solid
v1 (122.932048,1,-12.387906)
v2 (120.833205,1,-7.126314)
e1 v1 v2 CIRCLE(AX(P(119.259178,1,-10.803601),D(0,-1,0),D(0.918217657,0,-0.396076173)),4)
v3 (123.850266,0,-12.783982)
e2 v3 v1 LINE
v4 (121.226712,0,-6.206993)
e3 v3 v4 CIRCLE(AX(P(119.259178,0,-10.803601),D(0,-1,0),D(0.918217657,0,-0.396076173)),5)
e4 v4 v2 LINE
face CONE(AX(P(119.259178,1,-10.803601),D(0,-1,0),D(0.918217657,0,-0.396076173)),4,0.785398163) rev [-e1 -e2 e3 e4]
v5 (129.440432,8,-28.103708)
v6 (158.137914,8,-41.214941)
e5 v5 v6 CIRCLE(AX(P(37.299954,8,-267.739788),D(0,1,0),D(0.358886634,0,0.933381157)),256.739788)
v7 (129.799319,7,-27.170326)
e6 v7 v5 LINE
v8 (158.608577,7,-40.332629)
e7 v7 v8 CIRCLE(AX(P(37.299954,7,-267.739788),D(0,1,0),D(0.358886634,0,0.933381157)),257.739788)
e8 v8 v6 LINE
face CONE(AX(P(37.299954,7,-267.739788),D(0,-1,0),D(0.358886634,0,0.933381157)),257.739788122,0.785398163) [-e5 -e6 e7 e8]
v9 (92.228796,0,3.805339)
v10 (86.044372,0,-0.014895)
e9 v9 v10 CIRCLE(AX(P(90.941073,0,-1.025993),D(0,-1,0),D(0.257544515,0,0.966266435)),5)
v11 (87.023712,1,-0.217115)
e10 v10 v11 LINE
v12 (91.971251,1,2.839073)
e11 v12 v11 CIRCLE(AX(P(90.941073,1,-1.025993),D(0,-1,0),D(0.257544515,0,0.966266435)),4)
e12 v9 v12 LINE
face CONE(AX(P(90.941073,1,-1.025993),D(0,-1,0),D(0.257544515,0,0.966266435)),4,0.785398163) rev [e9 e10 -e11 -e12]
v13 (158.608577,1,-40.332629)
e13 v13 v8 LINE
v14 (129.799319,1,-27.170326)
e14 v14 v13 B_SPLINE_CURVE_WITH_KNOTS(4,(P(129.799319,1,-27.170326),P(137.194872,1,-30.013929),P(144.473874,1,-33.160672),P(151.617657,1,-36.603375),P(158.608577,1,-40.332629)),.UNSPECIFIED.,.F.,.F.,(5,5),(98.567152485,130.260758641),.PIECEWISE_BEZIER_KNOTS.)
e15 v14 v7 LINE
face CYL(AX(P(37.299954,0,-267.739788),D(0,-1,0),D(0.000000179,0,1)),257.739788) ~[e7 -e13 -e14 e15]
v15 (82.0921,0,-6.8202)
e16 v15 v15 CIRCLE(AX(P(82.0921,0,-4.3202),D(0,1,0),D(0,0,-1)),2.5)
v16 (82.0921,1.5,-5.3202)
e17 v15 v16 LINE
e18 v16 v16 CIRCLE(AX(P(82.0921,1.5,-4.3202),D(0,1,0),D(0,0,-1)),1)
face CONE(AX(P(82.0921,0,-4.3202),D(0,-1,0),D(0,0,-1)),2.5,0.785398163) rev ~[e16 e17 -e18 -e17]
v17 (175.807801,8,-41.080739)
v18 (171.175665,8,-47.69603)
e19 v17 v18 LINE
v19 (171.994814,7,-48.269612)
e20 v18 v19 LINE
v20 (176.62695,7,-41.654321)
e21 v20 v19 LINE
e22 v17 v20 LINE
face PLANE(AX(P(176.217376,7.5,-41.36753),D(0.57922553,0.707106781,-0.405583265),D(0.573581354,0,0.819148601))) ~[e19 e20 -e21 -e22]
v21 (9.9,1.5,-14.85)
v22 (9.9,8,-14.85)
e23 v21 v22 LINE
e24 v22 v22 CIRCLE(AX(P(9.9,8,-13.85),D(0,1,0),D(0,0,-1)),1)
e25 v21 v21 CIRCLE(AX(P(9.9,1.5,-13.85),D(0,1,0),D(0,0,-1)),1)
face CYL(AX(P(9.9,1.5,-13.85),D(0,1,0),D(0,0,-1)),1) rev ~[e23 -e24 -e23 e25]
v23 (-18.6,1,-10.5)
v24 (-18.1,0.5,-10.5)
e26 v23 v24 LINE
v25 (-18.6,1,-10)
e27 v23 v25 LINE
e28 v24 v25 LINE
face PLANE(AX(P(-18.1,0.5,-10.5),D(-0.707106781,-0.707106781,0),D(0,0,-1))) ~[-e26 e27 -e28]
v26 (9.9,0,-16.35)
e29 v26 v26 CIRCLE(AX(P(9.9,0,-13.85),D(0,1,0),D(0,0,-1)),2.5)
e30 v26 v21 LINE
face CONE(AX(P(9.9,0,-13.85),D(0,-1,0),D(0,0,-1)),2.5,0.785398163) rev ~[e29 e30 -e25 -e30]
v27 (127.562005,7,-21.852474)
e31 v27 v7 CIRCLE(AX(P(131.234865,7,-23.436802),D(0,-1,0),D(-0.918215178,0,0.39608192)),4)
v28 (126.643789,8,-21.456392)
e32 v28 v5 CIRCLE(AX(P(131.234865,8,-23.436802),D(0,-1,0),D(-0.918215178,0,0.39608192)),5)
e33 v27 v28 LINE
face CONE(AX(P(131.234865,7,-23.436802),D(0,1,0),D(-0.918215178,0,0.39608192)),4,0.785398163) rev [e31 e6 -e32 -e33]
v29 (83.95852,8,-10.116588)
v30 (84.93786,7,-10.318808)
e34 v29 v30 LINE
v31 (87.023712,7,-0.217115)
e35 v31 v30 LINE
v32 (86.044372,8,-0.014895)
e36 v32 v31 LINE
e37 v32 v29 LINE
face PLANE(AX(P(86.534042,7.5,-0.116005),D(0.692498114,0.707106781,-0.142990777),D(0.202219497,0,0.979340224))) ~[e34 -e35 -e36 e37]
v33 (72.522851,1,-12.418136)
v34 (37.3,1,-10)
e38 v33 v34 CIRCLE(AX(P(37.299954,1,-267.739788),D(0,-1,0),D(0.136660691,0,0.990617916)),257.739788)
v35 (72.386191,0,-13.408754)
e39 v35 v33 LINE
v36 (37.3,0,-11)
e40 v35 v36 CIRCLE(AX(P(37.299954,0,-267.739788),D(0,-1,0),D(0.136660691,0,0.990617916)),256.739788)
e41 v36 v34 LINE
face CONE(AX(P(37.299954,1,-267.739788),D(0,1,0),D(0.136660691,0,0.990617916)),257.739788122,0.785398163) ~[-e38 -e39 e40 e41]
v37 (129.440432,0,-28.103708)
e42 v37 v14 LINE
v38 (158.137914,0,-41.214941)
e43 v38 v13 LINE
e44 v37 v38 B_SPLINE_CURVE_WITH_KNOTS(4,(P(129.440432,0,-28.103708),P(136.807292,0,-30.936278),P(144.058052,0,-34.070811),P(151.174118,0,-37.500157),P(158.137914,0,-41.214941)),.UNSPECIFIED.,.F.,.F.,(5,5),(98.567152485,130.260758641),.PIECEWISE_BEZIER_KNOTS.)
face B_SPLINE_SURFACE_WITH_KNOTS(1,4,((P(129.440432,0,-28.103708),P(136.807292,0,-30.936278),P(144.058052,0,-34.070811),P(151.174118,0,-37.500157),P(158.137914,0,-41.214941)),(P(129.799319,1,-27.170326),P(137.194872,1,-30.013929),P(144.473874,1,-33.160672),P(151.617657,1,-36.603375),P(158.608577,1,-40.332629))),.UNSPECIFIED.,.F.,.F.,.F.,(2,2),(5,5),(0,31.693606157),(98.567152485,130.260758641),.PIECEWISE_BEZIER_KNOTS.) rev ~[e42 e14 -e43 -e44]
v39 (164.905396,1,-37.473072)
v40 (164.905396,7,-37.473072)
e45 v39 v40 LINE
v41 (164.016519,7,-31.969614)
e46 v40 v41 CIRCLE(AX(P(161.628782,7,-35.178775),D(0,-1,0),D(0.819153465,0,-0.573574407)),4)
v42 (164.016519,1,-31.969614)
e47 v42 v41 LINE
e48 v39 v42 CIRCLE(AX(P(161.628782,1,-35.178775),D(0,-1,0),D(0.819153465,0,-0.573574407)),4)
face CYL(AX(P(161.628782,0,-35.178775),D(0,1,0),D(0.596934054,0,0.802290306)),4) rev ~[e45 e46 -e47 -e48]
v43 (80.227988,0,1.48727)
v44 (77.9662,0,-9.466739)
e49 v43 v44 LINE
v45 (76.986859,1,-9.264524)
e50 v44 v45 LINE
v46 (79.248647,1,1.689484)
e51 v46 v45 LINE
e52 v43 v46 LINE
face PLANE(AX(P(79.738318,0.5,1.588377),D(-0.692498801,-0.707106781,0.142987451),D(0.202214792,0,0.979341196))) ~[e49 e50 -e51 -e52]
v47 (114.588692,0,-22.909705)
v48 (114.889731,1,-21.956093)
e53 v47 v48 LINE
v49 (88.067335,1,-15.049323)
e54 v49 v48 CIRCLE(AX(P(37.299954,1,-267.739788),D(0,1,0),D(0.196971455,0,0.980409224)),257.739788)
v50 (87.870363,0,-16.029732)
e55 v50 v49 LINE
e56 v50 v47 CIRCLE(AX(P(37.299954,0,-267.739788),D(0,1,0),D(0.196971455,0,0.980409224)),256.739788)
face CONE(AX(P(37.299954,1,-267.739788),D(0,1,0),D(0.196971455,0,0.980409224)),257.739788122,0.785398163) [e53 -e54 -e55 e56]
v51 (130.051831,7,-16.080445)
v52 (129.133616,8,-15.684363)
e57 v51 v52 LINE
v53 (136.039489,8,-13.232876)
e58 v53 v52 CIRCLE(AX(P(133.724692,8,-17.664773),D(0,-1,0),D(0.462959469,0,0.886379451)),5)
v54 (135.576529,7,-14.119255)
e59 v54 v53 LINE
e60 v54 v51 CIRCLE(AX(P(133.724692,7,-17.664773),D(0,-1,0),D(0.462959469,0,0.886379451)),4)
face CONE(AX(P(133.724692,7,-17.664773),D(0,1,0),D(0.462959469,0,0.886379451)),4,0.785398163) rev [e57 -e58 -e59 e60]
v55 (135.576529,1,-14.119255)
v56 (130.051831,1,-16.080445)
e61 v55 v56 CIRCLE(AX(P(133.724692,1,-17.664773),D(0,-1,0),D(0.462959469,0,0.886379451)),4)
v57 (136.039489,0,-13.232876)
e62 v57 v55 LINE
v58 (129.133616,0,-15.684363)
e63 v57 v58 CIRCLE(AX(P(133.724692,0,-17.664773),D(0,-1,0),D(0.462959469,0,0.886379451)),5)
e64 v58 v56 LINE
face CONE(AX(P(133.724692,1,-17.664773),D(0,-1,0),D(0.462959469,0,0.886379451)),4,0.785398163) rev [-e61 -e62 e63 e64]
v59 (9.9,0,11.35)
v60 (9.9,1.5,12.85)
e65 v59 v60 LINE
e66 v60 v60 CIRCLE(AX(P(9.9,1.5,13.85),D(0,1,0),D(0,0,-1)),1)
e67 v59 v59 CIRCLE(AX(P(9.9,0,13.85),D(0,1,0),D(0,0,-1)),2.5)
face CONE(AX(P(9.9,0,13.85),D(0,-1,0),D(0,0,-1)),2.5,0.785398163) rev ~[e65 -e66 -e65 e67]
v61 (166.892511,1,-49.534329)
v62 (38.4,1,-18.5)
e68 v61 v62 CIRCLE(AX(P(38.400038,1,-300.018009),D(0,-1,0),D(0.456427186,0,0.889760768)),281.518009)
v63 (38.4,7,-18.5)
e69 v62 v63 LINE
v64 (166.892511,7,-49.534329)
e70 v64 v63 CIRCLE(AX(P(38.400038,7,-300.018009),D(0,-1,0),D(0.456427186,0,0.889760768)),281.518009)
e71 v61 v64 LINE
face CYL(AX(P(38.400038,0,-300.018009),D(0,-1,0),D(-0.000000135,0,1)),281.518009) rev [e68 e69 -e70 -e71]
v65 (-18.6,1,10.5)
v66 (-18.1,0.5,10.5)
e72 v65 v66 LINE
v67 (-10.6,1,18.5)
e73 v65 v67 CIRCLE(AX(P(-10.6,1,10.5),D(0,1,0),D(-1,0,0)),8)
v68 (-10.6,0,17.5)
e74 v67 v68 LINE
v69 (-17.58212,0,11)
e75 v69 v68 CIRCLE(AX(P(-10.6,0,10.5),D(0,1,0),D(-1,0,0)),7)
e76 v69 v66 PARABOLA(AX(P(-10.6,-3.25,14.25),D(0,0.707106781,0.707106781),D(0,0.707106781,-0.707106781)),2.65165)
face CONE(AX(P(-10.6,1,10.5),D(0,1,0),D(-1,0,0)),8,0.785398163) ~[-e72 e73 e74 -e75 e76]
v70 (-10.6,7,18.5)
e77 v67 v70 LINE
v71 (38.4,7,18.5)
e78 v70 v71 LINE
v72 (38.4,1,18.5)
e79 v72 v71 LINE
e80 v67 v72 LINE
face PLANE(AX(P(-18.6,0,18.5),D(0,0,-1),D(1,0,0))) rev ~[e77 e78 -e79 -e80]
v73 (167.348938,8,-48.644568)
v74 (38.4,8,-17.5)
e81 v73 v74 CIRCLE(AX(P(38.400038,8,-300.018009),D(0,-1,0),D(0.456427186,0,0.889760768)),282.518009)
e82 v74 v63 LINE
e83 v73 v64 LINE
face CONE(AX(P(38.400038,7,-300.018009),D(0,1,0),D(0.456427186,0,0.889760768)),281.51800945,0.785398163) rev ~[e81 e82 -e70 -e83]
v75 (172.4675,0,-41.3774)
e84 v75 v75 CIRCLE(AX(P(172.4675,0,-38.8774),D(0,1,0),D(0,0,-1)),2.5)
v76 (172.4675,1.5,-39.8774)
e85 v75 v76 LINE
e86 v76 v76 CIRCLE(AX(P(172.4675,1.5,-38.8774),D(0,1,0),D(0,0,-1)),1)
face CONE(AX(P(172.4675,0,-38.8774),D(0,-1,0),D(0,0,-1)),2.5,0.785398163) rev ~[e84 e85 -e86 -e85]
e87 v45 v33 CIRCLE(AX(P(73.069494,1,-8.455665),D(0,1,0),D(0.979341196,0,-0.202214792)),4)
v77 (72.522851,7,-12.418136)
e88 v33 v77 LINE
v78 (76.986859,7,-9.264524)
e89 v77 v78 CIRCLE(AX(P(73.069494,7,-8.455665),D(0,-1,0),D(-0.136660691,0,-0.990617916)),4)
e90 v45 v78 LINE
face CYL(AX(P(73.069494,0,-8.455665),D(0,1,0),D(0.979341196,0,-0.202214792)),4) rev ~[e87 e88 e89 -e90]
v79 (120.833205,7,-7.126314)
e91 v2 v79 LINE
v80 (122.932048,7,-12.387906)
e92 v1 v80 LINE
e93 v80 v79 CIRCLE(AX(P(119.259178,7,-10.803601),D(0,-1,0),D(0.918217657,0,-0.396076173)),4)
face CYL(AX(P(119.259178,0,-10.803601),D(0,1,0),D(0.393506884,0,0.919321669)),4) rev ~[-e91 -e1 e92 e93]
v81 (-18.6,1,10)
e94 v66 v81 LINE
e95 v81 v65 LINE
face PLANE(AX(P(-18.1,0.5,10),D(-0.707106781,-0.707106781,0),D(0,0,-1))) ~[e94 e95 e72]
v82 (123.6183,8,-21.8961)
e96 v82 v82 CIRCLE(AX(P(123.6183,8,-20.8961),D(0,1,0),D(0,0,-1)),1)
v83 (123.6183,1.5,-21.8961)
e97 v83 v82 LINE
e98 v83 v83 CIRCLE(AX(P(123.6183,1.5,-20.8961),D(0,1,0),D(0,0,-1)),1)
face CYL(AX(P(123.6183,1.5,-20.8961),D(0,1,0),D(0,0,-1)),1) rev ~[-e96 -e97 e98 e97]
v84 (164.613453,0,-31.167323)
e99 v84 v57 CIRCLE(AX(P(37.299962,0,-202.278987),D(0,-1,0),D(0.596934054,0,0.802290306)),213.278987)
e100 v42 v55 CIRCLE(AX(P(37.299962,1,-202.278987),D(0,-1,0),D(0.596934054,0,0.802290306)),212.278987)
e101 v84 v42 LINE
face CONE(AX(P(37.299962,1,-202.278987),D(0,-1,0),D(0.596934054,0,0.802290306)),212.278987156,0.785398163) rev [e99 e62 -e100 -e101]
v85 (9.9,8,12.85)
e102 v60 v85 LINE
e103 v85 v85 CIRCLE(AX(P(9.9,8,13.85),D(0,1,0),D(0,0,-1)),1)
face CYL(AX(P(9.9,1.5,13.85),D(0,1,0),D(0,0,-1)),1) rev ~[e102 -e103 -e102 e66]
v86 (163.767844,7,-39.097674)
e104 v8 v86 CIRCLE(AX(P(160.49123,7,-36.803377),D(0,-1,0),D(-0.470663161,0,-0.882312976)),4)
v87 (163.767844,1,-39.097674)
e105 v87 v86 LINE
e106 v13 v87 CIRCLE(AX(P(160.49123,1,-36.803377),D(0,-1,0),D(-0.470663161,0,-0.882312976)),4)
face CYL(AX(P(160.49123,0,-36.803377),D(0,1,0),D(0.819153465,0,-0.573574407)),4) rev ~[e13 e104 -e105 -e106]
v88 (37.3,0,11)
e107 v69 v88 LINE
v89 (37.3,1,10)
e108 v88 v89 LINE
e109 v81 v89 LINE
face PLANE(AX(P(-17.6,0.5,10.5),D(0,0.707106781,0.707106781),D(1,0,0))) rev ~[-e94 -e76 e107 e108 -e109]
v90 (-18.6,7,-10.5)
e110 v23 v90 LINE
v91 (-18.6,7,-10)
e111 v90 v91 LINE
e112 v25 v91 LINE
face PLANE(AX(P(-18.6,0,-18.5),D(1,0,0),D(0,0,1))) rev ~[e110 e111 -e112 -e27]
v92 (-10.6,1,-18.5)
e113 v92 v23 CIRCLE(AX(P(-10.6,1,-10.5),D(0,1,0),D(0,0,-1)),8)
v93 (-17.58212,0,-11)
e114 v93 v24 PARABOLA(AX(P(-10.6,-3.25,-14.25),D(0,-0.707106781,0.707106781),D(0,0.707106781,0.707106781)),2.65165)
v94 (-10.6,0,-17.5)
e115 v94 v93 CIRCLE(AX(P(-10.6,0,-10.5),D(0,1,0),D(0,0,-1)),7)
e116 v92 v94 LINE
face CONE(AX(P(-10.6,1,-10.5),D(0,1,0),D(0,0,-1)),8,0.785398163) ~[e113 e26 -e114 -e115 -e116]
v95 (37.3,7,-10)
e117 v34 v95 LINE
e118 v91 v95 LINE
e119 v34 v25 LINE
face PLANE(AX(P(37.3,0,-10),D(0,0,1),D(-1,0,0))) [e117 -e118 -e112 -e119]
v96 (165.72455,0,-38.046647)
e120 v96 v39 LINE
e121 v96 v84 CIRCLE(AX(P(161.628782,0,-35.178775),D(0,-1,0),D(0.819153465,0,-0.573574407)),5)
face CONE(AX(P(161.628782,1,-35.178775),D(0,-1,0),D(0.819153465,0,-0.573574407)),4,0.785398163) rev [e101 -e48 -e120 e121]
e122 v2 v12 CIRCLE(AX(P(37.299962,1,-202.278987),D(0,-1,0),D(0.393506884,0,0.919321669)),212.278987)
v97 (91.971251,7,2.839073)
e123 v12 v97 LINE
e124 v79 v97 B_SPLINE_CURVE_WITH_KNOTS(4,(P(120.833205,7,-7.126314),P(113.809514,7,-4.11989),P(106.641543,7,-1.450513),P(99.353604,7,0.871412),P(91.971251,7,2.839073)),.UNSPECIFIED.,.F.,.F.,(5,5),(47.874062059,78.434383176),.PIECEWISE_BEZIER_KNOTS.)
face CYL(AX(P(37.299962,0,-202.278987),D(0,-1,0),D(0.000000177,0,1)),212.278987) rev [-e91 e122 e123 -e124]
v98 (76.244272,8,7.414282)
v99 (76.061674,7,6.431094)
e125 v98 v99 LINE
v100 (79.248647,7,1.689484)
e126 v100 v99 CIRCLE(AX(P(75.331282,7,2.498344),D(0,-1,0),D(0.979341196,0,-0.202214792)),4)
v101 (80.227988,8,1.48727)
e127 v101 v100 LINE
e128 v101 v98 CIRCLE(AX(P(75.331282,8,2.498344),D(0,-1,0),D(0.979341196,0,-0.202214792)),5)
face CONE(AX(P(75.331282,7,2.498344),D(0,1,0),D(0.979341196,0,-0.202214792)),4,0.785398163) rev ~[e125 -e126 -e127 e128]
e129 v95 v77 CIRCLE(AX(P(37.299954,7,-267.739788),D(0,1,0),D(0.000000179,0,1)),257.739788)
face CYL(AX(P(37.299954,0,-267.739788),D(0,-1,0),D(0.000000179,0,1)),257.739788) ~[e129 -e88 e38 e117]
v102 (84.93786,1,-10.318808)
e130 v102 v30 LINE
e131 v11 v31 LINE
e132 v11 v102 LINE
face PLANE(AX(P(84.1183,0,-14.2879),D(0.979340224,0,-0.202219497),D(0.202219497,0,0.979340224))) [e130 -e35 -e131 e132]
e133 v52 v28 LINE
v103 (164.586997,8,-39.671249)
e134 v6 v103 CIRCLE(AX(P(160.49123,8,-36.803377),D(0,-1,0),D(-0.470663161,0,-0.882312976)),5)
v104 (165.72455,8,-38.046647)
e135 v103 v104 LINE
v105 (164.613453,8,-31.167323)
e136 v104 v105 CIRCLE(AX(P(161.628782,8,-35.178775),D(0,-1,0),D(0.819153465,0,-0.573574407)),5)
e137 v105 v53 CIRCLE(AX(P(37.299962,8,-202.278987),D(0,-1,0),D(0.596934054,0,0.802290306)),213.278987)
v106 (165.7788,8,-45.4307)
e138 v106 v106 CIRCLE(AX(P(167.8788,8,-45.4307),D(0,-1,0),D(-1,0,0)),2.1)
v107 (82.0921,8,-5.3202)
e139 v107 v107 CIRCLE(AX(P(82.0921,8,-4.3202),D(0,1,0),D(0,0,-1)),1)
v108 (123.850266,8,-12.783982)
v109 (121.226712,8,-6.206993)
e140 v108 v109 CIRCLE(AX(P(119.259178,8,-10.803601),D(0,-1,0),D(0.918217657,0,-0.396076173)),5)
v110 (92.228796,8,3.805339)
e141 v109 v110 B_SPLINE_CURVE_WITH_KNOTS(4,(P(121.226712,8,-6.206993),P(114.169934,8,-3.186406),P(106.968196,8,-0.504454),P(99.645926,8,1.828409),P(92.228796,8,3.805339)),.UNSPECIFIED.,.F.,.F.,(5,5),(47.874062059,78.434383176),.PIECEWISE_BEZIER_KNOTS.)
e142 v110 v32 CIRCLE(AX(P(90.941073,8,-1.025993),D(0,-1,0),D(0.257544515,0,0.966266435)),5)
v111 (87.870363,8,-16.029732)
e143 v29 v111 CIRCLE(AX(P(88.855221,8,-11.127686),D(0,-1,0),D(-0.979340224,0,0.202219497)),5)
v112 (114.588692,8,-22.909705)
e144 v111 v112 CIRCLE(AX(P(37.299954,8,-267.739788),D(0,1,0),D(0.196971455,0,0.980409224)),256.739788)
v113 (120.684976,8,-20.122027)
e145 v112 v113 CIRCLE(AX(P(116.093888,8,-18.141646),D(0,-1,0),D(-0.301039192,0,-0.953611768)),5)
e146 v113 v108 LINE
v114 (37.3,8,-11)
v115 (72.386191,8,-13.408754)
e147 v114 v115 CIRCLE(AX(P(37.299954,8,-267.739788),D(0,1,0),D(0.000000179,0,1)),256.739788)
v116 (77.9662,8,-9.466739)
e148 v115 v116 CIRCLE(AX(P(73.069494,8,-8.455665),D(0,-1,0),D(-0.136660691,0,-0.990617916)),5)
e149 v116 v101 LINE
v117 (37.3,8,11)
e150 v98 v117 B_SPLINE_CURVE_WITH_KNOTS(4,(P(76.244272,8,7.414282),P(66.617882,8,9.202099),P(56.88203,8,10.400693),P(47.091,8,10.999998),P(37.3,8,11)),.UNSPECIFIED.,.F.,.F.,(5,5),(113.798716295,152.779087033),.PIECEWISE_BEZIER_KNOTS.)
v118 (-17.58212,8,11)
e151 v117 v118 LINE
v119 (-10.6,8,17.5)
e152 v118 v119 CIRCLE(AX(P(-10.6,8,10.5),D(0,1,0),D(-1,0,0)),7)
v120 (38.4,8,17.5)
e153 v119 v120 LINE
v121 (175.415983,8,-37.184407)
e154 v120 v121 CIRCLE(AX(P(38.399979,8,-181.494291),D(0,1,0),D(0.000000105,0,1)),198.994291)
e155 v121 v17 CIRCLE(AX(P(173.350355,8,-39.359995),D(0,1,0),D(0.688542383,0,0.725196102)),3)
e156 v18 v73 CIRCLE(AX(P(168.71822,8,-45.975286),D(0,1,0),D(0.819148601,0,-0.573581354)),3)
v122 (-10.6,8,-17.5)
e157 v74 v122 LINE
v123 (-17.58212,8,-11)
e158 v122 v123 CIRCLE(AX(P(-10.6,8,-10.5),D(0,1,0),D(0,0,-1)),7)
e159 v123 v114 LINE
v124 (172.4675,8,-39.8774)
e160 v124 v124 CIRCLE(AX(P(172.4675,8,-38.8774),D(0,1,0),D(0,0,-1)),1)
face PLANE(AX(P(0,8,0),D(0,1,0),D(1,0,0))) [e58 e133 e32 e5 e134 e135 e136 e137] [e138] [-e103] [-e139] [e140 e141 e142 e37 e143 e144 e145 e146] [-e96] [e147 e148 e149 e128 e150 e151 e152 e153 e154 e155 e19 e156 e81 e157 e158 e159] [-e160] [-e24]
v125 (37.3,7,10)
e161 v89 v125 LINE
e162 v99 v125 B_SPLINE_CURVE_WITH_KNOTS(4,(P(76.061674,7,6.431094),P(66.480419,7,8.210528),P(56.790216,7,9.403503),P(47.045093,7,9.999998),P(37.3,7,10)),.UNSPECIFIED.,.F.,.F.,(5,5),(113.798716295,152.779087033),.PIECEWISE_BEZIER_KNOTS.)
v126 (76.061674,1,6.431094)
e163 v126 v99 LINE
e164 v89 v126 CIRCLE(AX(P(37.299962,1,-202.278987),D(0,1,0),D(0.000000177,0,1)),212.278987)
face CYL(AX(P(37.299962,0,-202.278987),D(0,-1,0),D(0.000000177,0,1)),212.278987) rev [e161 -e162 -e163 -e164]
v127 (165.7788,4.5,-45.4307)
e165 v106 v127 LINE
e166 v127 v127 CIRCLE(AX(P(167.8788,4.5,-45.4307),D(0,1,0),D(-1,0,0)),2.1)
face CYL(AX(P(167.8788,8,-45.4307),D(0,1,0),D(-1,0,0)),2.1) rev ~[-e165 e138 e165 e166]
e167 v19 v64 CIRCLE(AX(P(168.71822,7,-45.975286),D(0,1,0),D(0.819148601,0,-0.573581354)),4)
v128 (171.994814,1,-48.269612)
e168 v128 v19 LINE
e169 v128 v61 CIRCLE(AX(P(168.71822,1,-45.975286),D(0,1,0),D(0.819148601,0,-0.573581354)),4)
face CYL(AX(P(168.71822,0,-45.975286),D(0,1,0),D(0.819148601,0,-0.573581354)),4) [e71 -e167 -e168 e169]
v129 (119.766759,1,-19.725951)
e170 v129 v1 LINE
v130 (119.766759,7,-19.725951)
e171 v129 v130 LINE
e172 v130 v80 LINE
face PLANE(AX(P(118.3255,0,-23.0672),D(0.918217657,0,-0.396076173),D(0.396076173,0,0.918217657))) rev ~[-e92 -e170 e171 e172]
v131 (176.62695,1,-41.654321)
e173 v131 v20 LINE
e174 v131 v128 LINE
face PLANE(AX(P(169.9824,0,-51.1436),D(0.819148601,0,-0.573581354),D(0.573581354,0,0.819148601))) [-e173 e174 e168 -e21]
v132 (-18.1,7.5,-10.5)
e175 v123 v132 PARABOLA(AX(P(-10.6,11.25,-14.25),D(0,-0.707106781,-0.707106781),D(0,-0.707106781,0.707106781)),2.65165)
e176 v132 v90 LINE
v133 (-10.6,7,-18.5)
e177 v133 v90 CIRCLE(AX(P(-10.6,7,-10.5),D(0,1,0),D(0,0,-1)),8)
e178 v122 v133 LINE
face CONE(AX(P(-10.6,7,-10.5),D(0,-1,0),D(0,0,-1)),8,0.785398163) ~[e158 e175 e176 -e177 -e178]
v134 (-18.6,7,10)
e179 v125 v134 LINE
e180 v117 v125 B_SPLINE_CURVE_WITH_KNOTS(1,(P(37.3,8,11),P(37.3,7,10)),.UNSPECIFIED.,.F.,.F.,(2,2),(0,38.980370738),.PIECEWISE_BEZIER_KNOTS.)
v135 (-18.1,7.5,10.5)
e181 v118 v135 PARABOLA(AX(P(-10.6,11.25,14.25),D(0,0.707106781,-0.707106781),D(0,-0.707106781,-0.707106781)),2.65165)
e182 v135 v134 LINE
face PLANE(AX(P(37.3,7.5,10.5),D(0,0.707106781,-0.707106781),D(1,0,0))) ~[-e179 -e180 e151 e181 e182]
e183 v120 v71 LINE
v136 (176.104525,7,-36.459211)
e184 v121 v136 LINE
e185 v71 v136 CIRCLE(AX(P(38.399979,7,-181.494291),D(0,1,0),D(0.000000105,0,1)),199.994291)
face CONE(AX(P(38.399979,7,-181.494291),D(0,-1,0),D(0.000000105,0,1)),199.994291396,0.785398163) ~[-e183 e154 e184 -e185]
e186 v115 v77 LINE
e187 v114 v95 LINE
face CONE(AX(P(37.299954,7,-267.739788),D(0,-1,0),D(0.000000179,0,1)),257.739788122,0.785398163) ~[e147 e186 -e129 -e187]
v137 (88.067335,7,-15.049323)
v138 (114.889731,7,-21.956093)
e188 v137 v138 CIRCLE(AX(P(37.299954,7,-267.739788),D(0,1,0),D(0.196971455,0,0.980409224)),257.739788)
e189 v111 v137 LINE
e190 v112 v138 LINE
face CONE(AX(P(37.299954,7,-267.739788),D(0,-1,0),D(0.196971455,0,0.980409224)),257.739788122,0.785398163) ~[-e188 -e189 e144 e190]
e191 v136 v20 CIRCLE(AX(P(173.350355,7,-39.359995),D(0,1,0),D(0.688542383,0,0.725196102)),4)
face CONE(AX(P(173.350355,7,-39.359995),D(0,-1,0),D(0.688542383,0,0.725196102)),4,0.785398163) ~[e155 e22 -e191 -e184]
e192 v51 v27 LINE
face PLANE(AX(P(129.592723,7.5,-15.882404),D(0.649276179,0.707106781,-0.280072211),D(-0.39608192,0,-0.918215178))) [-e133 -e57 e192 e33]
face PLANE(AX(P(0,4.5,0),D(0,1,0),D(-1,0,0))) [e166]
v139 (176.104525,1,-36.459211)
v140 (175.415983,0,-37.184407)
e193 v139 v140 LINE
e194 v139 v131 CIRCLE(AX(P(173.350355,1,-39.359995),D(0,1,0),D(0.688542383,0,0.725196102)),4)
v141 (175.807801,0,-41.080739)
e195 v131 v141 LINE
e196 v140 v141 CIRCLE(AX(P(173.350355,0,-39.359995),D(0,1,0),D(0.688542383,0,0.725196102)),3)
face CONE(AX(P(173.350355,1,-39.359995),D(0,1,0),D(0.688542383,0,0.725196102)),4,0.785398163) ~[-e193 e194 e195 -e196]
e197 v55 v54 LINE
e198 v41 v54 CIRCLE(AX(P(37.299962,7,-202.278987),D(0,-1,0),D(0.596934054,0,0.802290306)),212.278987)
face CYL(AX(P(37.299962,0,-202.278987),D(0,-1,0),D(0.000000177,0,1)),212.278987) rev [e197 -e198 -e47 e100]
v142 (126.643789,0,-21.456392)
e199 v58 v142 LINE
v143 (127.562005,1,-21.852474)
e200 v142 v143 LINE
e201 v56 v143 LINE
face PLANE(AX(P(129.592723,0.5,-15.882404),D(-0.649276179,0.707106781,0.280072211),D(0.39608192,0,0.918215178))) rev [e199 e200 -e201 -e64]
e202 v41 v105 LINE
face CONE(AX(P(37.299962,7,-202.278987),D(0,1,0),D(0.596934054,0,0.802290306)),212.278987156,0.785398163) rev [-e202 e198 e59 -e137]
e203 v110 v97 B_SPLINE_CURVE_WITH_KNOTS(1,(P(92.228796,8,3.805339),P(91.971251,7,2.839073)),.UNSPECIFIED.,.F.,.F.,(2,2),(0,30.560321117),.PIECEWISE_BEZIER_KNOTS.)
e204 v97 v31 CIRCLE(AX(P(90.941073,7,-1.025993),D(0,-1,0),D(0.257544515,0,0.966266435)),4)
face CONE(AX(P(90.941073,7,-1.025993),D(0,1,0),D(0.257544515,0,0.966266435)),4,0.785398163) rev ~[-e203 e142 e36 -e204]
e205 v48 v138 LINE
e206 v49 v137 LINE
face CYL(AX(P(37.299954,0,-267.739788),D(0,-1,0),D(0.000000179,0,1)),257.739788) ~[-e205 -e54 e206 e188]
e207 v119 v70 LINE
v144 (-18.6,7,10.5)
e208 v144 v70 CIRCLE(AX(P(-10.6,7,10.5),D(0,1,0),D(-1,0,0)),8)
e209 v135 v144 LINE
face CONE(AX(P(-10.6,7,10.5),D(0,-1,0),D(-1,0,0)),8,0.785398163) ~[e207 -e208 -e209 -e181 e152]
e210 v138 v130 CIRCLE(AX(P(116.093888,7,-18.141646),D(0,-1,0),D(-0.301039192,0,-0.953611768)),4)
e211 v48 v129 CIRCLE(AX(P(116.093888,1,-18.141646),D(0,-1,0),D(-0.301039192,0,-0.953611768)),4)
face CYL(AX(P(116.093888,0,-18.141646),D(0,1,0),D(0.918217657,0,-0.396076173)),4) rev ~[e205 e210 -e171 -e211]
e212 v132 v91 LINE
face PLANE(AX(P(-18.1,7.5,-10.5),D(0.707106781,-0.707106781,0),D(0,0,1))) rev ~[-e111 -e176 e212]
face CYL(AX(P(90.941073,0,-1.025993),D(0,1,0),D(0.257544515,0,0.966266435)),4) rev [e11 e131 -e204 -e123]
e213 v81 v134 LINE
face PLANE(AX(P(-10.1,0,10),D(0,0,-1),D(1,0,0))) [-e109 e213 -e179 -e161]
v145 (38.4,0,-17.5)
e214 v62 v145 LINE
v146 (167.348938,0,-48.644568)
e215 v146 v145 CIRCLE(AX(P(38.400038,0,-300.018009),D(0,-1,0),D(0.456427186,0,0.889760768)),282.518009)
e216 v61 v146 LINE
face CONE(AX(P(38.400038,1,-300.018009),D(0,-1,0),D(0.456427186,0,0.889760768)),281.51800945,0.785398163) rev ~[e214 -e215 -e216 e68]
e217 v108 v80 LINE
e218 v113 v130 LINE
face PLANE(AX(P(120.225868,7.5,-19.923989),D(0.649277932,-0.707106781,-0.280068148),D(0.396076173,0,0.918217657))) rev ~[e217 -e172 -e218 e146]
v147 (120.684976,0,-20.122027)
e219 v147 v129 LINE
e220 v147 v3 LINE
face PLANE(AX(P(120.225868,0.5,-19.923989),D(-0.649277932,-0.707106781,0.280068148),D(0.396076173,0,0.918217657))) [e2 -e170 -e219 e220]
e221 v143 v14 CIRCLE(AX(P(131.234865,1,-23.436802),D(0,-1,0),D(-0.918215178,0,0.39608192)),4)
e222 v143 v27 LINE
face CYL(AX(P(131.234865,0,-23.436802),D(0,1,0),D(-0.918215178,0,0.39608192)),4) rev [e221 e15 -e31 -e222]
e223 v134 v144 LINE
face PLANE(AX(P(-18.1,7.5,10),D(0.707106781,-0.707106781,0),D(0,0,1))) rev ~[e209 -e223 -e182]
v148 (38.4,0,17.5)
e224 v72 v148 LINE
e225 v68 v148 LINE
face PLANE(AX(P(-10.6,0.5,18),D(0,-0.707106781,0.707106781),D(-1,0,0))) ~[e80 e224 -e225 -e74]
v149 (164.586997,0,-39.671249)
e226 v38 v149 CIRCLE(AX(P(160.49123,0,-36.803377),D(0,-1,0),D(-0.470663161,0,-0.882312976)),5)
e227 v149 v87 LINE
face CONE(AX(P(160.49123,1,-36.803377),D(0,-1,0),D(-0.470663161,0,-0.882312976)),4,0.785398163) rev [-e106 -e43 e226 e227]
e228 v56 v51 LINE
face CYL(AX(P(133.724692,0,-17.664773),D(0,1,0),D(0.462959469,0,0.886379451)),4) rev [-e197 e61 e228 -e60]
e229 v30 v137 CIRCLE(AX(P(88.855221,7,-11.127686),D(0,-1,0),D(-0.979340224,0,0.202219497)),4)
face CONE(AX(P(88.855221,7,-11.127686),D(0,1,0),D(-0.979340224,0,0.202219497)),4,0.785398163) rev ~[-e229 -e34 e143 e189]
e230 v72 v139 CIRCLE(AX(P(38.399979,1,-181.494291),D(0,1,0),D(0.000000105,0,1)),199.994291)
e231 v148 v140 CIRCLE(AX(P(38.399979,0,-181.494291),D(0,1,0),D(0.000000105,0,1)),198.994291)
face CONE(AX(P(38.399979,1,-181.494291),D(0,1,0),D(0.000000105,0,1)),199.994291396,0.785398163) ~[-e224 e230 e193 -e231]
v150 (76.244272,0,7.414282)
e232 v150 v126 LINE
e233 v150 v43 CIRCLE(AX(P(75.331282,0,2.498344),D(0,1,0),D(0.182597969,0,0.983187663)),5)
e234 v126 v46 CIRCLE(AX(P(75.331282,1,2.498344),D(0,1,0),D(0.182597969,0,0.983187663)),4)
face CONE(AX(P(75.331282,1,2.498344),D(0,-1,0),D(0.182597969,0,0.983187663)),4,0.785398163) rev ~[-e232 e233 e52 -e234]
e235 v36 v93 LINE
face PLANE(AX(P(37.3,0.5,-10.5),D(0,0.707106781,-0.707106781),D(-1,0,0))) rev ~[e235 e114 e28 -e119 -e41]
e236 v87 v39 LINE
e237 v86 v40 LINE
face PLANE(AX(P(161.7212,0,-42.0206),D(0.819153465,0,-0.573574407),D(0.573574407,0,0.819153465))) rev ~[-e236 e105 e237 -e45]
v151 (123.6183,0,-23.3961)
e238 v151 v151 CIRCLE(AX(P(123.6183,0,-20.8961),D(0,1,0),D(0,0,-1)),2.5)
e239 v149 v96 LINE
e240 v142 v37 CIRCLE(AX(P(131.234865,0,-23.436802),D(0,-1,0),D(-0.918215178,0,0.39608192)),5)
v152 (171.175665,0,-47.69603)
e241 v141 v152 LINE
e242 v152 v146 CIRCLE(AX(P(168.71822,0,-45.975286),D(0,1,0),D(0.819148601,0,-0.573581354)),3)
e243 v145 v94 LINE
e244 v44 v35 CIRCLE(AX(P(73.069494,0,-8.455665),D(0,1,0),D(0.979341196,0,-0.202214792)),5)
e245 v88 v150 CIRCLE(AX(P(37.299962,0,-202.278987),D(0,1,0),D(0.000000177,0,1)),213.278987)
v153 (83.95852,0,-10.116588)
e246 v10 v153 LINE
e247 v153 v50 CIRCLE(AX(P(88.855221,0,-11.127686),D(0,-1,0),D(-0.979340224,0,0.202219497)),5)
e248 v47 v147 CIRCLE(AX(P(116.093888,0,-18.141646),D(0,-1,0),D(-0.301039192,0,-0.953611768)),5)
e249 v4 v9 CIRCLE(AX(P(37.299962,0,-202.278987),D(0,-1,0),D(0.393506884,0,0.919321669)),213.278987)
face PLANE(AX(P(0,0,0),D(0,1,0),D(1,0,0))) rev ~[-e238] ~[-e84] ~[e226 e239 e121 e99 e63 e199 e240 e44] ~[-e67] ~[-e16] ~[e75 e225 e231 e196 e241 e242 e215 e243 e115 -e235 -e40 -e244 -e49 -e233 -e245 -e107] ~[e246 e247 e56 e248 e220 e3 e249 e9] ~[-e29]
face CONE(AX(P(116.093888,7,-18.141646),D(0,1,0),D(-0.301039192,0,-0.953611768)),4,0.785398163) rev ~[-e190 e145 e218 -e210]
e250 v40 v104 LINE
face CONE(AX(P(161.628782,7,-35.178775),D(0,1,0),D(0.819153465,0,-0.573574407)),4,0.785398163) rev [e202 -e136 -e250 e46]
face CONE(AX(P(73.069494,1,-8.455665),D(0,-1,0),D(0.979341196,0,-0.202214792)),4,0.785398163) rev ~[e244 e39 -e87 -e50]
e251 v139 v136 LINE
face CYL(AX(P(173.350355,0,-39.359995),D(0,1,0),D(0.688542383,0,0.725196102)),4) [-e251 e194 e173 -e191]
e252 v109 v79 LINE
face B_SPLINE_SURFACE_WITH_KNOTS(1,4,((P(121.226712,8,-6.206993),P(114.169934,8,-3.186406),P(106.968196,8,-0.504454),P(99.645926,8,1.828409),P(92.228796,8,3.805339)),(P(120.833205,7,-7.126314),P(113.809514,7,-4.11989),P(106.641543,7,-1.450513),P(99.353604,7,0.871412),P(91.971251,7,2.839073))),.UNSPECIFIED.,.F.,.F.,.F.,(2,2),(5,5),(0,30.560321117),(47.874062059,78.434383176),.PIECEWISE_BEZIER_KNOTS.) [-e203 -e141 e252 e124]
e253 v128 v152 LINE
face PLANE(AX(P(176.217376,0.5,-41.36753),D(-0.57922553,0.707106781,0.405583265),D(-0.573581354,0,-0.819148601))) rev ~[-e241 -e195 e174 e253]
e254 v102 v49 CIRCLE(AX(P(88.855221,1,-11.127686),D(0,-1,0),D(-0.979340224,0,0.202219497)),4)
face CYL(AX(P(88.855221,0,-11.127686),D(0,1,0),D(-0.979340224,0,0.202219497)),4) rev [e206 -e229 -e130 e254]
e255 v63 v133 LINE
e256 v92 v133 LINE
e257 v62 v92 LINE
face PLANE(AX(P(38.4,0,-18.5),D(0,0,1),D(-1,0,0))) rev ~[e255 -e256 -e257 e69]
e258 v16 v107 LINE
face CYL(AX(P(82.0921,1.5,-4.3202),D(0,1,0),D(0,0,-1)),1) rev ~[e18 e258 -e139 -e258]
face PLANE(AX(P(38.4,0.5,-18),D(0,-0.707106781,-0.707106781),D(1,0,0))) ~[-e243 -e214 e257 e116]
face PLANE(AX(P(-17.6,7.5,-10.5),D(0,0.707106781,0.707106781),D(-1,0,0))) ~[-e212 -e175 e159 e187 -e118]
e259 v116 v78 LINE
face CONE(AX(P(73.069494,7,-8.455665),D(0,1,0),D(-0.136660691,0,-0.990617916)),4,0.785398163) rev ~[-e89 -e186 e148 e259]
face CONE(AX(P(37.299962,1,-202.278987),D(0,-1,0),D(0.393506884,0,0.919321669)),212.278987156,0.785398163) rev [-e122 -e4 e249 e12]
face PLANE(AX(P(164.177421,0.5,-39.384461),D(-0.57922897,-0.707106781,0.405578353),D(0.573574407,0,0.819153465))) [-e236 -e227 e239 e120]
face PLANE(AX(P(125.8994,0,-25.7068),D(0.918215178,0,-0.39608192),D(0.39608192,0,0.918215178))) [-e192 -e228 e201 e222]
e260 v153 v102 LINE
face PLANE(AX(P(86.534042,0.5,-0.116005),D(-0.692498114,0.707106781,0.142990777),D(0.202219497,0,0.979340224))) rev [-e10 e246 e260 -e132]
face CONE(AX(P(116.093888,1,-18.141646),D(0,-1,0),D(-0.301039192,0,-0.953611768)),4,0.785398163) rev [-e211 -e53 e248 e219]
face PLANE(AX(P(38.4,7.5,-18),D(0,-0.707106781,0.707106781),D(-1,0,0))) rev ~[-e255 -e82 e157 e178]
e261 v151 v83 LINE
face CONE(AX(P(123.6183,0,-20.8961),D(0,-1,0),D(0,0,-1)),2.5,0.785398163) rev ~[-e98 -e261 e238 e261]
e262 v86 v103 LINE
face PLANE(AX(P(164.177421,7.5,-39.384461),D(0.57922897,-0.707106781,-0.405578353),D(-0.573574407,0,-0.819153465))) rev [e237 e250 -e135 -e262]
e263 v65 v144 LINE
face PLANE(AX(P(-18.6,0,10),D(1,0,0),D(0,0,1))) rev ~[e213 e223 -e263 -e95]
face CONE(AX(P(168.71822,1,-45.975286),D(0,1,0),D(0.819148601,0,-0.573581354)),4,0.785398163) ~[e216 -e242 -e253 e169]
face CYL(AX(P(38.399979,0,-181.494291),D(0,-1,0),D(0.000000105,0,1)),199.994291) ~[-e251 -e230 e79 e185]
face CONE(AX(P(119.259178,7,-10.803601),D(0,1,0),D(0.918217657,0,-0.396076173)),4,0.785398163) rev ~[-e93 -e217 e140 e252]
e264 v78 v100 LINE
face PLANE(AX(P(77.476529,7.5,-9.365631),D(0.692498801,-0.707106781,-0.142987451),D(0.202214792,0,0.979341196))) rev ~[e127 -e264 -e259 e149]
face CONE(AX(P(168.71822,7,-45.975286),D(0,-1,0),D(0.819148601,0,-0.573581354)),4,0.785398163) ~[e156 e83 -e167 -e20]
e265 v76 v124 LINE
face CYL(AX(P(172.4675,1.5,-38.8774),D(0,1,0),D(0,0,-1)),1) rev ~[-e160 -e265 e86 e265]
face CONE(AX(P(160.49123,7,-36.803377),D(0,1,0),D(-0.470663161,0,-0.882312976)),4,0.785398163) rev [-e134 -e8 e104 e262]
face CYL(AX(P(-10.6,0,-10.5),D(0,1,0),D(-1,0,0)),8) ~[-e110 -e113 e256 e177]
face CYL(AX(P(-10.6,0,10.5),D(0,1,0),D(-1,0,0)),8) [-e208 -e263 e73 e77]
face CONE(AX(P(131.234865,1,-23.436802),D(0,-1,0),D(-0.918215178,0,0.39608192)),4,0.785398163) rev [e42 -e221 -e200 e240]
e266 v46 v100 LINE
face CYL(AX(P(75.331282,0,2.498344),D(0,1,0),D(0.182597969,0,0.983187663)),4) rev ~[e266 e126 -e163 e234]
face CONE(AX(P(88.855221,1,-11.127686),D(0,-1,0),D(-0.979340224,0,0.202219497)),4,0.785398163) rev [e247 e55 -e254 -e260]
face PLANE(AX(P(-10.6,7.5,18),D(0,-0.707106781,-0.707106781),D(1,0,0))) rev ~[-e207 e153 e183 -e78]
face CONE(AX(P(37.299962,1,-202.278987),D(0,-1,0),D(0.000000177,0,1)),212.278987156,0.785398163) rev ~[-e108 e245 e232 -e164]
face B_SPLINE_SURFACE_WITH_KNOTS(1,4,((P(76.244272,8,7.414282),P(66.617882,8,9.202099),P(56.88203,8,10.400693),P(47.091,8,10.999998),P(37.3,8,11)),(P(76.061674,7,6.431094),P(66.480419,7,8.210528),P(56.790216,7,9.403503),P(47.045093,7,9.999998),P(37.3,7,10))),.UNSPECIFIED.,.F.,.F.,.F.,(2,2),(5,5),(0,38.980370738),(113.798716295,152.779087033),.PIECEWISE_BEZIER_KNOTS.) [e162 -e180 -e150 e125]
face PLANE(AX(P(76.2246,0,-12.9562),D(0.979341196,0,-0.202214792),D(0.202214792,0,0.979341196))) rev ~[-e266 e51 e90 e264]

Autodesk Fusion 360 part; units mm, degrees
sketch "Sketch1" plane through (0, 0, 0) normal (0, 1, 0) x (1, 0, 0)
  circle A0 centre (0, 0) radius 2.5
  line L0 (-10.1, -10) -> (29.9, -10)
  line L1 (29.9, -10) -> (29.9, 10)
  line L2 (29.9, 10) -> (-10.1, 10)
  line L3 (-10.1, 10) -> (-10.1, -10)
  line L4 (-10.1, -10) -> (-17.5, -10)
  line L5 (-17.5, -10) -> (-17.5, 10)
  line L6 (-17.5, 10) -> (-10.1, 10)
  line L7 (-10.1, 10) -> (-10.1, -10)
  line L8 (29.9, -10) -> (37.3, -10)
  line L9 (37.3, -10) -> (37.3, 10)
  line L10 (37.3, 10) -> (29.9, 10)
  line L11 (29.9, 10) -> (29.9, -10)
  line L12 (-18.6, -18.5) -> (38.4, -18.5)
  line L13 (38.4, -18.5) -> (38.4, 18.5) construction
  line L14 (38.4, 18.5) -> (-18.6, 18.5)
  line L15 (-18.6, 18.5) -> (-18.6, -18.5)
  line L16 (0, 0) -> (174.2843, 45) construction
  line L17 (169.9824, 51.1436) -> (178.5861, 38.8564)
  arc A1 (38.4, -18.5) -> (178.5861, 38.8564) centre (38.4, 181.4943) ccw
  arc A2 (38.4, 18.5) -> (169.9824, 51.1436) centre (38.4, 300.018) ccw
  line L18 (159.1401, 45.7067) -> (169.6952, 30.6325) construction
  arc A3 (37.3, -10) -> (167.1141, 34.3187) centre (37.3, 202.279) ccw
  arc A4 (37.3, 10) -> (161.7212, 42.0206) centre (37.3, 267.7398) ccw
  line L19 (161.7212, 42.0206) -> (167.1141, 34.3187)
  line L20 (76.2246, 12.9562) -> (80.0659, -5.6475)
  line L21 (84.1183, 14.2879) -> (87.8714, -3.8882)
  line L22 (118.3255, 23.0672) -> (124.5058, 8.7395)
  line L23 (125.8994, 25.7068) -> (131.7408, 12.165)
  line L24 (80.0659, -5.6475) -> (84.1183, 14.2879) construction
  line L25 (124.5058, 8.7395) -> (125.8994, 25.7068) construction
  line L26 (-17.5, -10) -> (-18.6, -10)
  line L27 (-17.5, 10) -> (-18.6, 10)
  line L28 (9.9, -10) -> (9.9, -18.5) construction
  line L29 (9.9, 10) -> (9.9, 18.5) construction
  line L30 (164.4176, 38.1696) -> (174.2843, 45) construction
  line L31 (162.5397, 53.0557) -> (179.3936, 28.9858) construction
  point P0 (174.2843, 45)
  point P1 (82.0921, 4.3202)
  point P2 (125.2026, 17.2232)
  point P3 (37.3, 0)
  point P4 (9.9, -13.85)
  point P5 (9.9, 13.85)
  point P6 (172.4675, 38.8774)
  point P7 (123.6183, 20.8961)
  dimension "d1" = 5
  dimension "d2" = 10.1
  dimension "d3" = 40
  dimension "d4" = 20
  dimension "d5" = 10
  dimension "d6" = 7.4
  dimension "d7" = 8.5
  dimension "d8" = 8.5
  dimension "d9" = 8.5
  dimension "d10" = 8.5
  dimension "d11" = 180
  dimension "d12" = 45
  dimension "d13" = 35
  dimension "d14" = 15
  dimension "d15" = 12
  dimension "d16" = 4.5
  dimension "d17" = 4.5
  dimension "d18" = 8
  dimension "d19" = 8
  dimension "d22" = 45
  dimension "d23" = 45
  dimension "d24" = 11.667
  dimension "d25" = 11.667
  dimension "d40" = 27.7
  dimension "d41" = 13.85
  dimension "d42" = 5
  dimension "d43" = 4
  dimension "d48" = 4
  dimension "d49" = 4
extrude "Extrude1" add sketch "Sketch1" along normal blind 8 contours L0 L2 L4 L6 L8 L10 L12 L14 L15 L17 A1 A2 A3 A4 L19 L26 L27 | A3 A4 L20 L21 | A3 A4 L22 L23
hole "Hole1" at (82.0921, 0, -4.3202) at (9.9, 0, -13.85) at (9.9, 0, 13.85) at (172.4675, 0, -38.8774) at (123.6183, 0, -20.8961) direction (0, 1, 0) diameter 2 end through all countersink diameter 5 countersink angle 90
fillet "Fillet1" radius 4 2 edges at (178.5861, 4, -38.8564) (169.9824, 4, -51.1436)
fillet "Fillet2" radius 4 10 edges at (161.7212, 4, -42.0206) (167.1141, 4, -34.3187) (125.8994, 4, -25.7068) (131.7408, 4, -12.165) (118.3255, 4, -23.0672) (124.5058, 4, -8.7395) (84.1183, 4, -14.2879) (87.8714, 4, 3.8882) (80.0659, 4, 5.6475) (76.2246, 4, -12.9562)
fillet "Fillet3" radius 8 2 edges at (-18.6, 4, 18.5) (-18.6, 4, -18.5)
chamfer "Chamfer1" distance 1 angle 45 68 edges at (13.9, 0, 18.5) (112.5334, 0, 4.2527) (177.3303, 0, -38.9597) (174.3109, 0, -44.9619) (169.6806, 0, -49.8578) (104.4936, 0, -26.3686) (13.9, 0, -18.5) (-16.2569, 0, -16.1569) (-18.6, 0, -10.25) (-18.6, 0, 10.25) (-16.2569, 0, 16.1569) (13.9, 8, 18.5) (112.5334, 8, 4.2527) (177.3303, 8, -38.9597) (174.3109, 8, -44.9619) (169.6806, 8, -49.8578) (104.4936, 8, -26.3686) (13.9, 8, -18.5) (-16.2569, 8, -16.1569) (-18.6, 8, -10.25) (-18.6, 8, 10.25) (-16.2569, 8, 16.1569) (9.35, 0, -10) (9.35, 0, 10) (56.7628, 0, 9.1059) (78.6511, 0, 4.7297) (78.1177, 0, -3.7875) (75.3774, 0, -11.7227) (54.9529, 0, -10.6052) (101.5714, 0, -18.1421) (117.7573, 0, -21.7794) (121.3494, 0, -16.0569) (122.9745, 0, -9.3216) (106.5817, 0, -1.624) (88.8389, 0, 2.3771) (85.9808, 0, -5.268) (85.5192, 0, -13.3347) (144.4063, 0, -33.3085) (161.4224, 0, -40.6935) (164.3366, 0, -38.2853) (165.5776, 0, -34.541) (150.15, 0, -22.4812) (132.3866, 0, -13.8952) (128.8069, 0, -18.9664) (127.5479, 0, -24.988) (144.4063, 8, -33.3085) (161.4224, 8, -40.6935) (164.3366, 8, -38.2853) (165.5776, 8, -34.541) (150.15, 8, -22.4812) (132.3866, 8, -13.8952) (128.8069, 8, -18.9664) (127.5479, 8, -24.988) (101.5714, 8, -18.1421) (117.7573, 8, -21.7794) (121.3494, 8, -16.0569) (122.9745, 8, -9.3216) (106.5817, 8, -1.624) (88.8389, 8, 2.3771) (85.9808, 8, -5.268) (85.5192, 8, -13.3347) (54.9529, 8, -10.6052) (75.3774, 8, -11.7227) (78.1177, 8, -3.7875) (78.6511, 8, 4.7297) (56.7628, 8, 9.1059) (9.35, 8, 10) (9.35, 8, -10)
sketch "Sketch2" plane through (0, 8, 0) normal (0, 1, 0) x (-1, 0, 0)
  arc A0 (-129.4404, -28.1037) -> (-158.1379, -41.2149) centre (-37.3, -267.7398) ccw
  arc A1 (-164.587, -39.6712) -> (-158.1379, -41.2149) centre (-160.4912, -36.8033) ccw
  line L0 (-164.587, -39.6712) -> (-165.7245, -38.0466)
  arc A2 (-164.6134, -31.1673) -> (-165.7245, -38.0466) centre (-161.6288, -35.1787) ccw
  arc A3 (-136.0395, -13.2328) -> (-164.6134, -31.1673) centre (-37.3, -202.279) ccw
  arc A4 (-129.1336, -15.6843) -> (-136.0395, -13.2328) centre (-133.7247, -17.6647) ccw
  line L1 (-129.1336, -15.6843) -> (-126.6438, -21.4564)
  arc A5 (-129.4404, -28.1037) -> (-126.6438, -21.4564) centre (-131.2349, -23.4368) ccw
  circle A6 centre (-172.4675, -38.8774) radius 1
  circle A7 centre (-9.9, -13.85) radius 1
  circle A8 centre (-82.0921, -4.3202) radius 1
  circle A9 centre (-9.9, 13.85) radius 1
  line L2 (17.5821, -11) -> (-37.3, -11)
  arc A10 (-37.3, -11) -> (-72.3862, -13.4087) centre (-37.3, -267.7398) ccw
  arc A11 (-77.9662, -9.4667) -> (-72.3862, -13.4087) centre (-73.0695, -8.4557) ccw
  line L3 (-77.9662, -9.4667) -> (-80.228, 1.4873)
  arc A12 (-76.2443, 7.4143) -> (-80.228, 1.4873) centre (-75.3313, 2.4983) ccw
  arc A13 (-37.3, 11) -> (-76.2443, 7.4143) centre (-37.3, -202.279) ccw
  line L4 (-37.3, 11) -> (17.5821, 11)
  arc A14 (17.5821, 11) -> (10.6, 17.5) centre (10.6, 10.5) ccw
  line L5 (10.6, 17.5) -> (-38.4, 17.5)
  arc A15 (-38.4, 17.5) -> (-175.416, -37.1844) centre (-38.4, -181.4943) ccw
  arc A16 (-175.416, -37.1844) -> (-175.8078, -41.0807) centre (-173.3503, -39.36) ccw
  line L6 (-175.8078, -41.0807) -> (-171.1757, -47.696)
  arc A17 (-171.1757, -47.696) -> (-167.3489, -48.6446) centre (-168.7182, -45.9753) ccw
  arc A18 (-38.4, -17.5) -> (-167.3489, -48.6446) centre (-38.4, -300.018) ccw
  line L7 (-38.4, -17.5) -> (10.6, -17.5)
  arc A19 (10.6, -17.5) -> (17.5821, -11) centre (10.6, -10.5) ccw
  arc A20 (-87.8704, -16.0297) -> (-114.5887, -22.9097) centre (-37.3, -267.7398) ccw
  arc A21 (-120.685, -20.122) -> (-114.5887, -22.9097) centre (-116.0939, -18.1416) ccw
  line L8 (-120.685, -20.122) -> (-123.8503, -12.784)
  arc A22 (-121.2267, -6.207) -> (-123.8503, -12.784) centre (-119.2592, -10.8036) ccw
  arc A23 (-92.2288, 3.8053) -> (-121.2267, -6.207) centre (-37.3, -202.279) ccw
  arc A24 (-86.0444, -0.0149) -> (-92.2288, 3.8053) centre (-90.9411, -1.026) ccw
  line L9 (-86.0444, -0.0149) -> (-83.9586, -10.1166)
  arc A25 (-87.8704, -16.0297) -> (-83.9586, -10.1166) centre (-88.8553, -11.1277) ccw
  line L10 (-162.5397, -53.0557) -> (-179.3936, -28.9858)
  line L11 (-164.4176, -38.1696) -> (-174.2843, -45)
  circle A26 centre (-167.8788, -45.4307) radius 2.1
  circle A27 centre (-123.6183, -20.8961) radius 1
  dimension "d44" = 4.2
  dimension "d45" = 4
extrude "Extrude2" cut sketch "Sketch2" against normal blind 3.5 contours L10 A26 | L10 A26
equation "d5 = d4 / 2"
equation "d8 = d7"
equation "d9 = d7"
equation "d10 = d7"
equation "d17 = d16"
equation "d19 = d18"
equation "d20 = d13 / 3"
equation "d23 = d22"
equation "d24 = d13 / 3"
equation "d25 = d24"
equation "d41 = d40 / 2"
equation "d49 = d19 / 2"
